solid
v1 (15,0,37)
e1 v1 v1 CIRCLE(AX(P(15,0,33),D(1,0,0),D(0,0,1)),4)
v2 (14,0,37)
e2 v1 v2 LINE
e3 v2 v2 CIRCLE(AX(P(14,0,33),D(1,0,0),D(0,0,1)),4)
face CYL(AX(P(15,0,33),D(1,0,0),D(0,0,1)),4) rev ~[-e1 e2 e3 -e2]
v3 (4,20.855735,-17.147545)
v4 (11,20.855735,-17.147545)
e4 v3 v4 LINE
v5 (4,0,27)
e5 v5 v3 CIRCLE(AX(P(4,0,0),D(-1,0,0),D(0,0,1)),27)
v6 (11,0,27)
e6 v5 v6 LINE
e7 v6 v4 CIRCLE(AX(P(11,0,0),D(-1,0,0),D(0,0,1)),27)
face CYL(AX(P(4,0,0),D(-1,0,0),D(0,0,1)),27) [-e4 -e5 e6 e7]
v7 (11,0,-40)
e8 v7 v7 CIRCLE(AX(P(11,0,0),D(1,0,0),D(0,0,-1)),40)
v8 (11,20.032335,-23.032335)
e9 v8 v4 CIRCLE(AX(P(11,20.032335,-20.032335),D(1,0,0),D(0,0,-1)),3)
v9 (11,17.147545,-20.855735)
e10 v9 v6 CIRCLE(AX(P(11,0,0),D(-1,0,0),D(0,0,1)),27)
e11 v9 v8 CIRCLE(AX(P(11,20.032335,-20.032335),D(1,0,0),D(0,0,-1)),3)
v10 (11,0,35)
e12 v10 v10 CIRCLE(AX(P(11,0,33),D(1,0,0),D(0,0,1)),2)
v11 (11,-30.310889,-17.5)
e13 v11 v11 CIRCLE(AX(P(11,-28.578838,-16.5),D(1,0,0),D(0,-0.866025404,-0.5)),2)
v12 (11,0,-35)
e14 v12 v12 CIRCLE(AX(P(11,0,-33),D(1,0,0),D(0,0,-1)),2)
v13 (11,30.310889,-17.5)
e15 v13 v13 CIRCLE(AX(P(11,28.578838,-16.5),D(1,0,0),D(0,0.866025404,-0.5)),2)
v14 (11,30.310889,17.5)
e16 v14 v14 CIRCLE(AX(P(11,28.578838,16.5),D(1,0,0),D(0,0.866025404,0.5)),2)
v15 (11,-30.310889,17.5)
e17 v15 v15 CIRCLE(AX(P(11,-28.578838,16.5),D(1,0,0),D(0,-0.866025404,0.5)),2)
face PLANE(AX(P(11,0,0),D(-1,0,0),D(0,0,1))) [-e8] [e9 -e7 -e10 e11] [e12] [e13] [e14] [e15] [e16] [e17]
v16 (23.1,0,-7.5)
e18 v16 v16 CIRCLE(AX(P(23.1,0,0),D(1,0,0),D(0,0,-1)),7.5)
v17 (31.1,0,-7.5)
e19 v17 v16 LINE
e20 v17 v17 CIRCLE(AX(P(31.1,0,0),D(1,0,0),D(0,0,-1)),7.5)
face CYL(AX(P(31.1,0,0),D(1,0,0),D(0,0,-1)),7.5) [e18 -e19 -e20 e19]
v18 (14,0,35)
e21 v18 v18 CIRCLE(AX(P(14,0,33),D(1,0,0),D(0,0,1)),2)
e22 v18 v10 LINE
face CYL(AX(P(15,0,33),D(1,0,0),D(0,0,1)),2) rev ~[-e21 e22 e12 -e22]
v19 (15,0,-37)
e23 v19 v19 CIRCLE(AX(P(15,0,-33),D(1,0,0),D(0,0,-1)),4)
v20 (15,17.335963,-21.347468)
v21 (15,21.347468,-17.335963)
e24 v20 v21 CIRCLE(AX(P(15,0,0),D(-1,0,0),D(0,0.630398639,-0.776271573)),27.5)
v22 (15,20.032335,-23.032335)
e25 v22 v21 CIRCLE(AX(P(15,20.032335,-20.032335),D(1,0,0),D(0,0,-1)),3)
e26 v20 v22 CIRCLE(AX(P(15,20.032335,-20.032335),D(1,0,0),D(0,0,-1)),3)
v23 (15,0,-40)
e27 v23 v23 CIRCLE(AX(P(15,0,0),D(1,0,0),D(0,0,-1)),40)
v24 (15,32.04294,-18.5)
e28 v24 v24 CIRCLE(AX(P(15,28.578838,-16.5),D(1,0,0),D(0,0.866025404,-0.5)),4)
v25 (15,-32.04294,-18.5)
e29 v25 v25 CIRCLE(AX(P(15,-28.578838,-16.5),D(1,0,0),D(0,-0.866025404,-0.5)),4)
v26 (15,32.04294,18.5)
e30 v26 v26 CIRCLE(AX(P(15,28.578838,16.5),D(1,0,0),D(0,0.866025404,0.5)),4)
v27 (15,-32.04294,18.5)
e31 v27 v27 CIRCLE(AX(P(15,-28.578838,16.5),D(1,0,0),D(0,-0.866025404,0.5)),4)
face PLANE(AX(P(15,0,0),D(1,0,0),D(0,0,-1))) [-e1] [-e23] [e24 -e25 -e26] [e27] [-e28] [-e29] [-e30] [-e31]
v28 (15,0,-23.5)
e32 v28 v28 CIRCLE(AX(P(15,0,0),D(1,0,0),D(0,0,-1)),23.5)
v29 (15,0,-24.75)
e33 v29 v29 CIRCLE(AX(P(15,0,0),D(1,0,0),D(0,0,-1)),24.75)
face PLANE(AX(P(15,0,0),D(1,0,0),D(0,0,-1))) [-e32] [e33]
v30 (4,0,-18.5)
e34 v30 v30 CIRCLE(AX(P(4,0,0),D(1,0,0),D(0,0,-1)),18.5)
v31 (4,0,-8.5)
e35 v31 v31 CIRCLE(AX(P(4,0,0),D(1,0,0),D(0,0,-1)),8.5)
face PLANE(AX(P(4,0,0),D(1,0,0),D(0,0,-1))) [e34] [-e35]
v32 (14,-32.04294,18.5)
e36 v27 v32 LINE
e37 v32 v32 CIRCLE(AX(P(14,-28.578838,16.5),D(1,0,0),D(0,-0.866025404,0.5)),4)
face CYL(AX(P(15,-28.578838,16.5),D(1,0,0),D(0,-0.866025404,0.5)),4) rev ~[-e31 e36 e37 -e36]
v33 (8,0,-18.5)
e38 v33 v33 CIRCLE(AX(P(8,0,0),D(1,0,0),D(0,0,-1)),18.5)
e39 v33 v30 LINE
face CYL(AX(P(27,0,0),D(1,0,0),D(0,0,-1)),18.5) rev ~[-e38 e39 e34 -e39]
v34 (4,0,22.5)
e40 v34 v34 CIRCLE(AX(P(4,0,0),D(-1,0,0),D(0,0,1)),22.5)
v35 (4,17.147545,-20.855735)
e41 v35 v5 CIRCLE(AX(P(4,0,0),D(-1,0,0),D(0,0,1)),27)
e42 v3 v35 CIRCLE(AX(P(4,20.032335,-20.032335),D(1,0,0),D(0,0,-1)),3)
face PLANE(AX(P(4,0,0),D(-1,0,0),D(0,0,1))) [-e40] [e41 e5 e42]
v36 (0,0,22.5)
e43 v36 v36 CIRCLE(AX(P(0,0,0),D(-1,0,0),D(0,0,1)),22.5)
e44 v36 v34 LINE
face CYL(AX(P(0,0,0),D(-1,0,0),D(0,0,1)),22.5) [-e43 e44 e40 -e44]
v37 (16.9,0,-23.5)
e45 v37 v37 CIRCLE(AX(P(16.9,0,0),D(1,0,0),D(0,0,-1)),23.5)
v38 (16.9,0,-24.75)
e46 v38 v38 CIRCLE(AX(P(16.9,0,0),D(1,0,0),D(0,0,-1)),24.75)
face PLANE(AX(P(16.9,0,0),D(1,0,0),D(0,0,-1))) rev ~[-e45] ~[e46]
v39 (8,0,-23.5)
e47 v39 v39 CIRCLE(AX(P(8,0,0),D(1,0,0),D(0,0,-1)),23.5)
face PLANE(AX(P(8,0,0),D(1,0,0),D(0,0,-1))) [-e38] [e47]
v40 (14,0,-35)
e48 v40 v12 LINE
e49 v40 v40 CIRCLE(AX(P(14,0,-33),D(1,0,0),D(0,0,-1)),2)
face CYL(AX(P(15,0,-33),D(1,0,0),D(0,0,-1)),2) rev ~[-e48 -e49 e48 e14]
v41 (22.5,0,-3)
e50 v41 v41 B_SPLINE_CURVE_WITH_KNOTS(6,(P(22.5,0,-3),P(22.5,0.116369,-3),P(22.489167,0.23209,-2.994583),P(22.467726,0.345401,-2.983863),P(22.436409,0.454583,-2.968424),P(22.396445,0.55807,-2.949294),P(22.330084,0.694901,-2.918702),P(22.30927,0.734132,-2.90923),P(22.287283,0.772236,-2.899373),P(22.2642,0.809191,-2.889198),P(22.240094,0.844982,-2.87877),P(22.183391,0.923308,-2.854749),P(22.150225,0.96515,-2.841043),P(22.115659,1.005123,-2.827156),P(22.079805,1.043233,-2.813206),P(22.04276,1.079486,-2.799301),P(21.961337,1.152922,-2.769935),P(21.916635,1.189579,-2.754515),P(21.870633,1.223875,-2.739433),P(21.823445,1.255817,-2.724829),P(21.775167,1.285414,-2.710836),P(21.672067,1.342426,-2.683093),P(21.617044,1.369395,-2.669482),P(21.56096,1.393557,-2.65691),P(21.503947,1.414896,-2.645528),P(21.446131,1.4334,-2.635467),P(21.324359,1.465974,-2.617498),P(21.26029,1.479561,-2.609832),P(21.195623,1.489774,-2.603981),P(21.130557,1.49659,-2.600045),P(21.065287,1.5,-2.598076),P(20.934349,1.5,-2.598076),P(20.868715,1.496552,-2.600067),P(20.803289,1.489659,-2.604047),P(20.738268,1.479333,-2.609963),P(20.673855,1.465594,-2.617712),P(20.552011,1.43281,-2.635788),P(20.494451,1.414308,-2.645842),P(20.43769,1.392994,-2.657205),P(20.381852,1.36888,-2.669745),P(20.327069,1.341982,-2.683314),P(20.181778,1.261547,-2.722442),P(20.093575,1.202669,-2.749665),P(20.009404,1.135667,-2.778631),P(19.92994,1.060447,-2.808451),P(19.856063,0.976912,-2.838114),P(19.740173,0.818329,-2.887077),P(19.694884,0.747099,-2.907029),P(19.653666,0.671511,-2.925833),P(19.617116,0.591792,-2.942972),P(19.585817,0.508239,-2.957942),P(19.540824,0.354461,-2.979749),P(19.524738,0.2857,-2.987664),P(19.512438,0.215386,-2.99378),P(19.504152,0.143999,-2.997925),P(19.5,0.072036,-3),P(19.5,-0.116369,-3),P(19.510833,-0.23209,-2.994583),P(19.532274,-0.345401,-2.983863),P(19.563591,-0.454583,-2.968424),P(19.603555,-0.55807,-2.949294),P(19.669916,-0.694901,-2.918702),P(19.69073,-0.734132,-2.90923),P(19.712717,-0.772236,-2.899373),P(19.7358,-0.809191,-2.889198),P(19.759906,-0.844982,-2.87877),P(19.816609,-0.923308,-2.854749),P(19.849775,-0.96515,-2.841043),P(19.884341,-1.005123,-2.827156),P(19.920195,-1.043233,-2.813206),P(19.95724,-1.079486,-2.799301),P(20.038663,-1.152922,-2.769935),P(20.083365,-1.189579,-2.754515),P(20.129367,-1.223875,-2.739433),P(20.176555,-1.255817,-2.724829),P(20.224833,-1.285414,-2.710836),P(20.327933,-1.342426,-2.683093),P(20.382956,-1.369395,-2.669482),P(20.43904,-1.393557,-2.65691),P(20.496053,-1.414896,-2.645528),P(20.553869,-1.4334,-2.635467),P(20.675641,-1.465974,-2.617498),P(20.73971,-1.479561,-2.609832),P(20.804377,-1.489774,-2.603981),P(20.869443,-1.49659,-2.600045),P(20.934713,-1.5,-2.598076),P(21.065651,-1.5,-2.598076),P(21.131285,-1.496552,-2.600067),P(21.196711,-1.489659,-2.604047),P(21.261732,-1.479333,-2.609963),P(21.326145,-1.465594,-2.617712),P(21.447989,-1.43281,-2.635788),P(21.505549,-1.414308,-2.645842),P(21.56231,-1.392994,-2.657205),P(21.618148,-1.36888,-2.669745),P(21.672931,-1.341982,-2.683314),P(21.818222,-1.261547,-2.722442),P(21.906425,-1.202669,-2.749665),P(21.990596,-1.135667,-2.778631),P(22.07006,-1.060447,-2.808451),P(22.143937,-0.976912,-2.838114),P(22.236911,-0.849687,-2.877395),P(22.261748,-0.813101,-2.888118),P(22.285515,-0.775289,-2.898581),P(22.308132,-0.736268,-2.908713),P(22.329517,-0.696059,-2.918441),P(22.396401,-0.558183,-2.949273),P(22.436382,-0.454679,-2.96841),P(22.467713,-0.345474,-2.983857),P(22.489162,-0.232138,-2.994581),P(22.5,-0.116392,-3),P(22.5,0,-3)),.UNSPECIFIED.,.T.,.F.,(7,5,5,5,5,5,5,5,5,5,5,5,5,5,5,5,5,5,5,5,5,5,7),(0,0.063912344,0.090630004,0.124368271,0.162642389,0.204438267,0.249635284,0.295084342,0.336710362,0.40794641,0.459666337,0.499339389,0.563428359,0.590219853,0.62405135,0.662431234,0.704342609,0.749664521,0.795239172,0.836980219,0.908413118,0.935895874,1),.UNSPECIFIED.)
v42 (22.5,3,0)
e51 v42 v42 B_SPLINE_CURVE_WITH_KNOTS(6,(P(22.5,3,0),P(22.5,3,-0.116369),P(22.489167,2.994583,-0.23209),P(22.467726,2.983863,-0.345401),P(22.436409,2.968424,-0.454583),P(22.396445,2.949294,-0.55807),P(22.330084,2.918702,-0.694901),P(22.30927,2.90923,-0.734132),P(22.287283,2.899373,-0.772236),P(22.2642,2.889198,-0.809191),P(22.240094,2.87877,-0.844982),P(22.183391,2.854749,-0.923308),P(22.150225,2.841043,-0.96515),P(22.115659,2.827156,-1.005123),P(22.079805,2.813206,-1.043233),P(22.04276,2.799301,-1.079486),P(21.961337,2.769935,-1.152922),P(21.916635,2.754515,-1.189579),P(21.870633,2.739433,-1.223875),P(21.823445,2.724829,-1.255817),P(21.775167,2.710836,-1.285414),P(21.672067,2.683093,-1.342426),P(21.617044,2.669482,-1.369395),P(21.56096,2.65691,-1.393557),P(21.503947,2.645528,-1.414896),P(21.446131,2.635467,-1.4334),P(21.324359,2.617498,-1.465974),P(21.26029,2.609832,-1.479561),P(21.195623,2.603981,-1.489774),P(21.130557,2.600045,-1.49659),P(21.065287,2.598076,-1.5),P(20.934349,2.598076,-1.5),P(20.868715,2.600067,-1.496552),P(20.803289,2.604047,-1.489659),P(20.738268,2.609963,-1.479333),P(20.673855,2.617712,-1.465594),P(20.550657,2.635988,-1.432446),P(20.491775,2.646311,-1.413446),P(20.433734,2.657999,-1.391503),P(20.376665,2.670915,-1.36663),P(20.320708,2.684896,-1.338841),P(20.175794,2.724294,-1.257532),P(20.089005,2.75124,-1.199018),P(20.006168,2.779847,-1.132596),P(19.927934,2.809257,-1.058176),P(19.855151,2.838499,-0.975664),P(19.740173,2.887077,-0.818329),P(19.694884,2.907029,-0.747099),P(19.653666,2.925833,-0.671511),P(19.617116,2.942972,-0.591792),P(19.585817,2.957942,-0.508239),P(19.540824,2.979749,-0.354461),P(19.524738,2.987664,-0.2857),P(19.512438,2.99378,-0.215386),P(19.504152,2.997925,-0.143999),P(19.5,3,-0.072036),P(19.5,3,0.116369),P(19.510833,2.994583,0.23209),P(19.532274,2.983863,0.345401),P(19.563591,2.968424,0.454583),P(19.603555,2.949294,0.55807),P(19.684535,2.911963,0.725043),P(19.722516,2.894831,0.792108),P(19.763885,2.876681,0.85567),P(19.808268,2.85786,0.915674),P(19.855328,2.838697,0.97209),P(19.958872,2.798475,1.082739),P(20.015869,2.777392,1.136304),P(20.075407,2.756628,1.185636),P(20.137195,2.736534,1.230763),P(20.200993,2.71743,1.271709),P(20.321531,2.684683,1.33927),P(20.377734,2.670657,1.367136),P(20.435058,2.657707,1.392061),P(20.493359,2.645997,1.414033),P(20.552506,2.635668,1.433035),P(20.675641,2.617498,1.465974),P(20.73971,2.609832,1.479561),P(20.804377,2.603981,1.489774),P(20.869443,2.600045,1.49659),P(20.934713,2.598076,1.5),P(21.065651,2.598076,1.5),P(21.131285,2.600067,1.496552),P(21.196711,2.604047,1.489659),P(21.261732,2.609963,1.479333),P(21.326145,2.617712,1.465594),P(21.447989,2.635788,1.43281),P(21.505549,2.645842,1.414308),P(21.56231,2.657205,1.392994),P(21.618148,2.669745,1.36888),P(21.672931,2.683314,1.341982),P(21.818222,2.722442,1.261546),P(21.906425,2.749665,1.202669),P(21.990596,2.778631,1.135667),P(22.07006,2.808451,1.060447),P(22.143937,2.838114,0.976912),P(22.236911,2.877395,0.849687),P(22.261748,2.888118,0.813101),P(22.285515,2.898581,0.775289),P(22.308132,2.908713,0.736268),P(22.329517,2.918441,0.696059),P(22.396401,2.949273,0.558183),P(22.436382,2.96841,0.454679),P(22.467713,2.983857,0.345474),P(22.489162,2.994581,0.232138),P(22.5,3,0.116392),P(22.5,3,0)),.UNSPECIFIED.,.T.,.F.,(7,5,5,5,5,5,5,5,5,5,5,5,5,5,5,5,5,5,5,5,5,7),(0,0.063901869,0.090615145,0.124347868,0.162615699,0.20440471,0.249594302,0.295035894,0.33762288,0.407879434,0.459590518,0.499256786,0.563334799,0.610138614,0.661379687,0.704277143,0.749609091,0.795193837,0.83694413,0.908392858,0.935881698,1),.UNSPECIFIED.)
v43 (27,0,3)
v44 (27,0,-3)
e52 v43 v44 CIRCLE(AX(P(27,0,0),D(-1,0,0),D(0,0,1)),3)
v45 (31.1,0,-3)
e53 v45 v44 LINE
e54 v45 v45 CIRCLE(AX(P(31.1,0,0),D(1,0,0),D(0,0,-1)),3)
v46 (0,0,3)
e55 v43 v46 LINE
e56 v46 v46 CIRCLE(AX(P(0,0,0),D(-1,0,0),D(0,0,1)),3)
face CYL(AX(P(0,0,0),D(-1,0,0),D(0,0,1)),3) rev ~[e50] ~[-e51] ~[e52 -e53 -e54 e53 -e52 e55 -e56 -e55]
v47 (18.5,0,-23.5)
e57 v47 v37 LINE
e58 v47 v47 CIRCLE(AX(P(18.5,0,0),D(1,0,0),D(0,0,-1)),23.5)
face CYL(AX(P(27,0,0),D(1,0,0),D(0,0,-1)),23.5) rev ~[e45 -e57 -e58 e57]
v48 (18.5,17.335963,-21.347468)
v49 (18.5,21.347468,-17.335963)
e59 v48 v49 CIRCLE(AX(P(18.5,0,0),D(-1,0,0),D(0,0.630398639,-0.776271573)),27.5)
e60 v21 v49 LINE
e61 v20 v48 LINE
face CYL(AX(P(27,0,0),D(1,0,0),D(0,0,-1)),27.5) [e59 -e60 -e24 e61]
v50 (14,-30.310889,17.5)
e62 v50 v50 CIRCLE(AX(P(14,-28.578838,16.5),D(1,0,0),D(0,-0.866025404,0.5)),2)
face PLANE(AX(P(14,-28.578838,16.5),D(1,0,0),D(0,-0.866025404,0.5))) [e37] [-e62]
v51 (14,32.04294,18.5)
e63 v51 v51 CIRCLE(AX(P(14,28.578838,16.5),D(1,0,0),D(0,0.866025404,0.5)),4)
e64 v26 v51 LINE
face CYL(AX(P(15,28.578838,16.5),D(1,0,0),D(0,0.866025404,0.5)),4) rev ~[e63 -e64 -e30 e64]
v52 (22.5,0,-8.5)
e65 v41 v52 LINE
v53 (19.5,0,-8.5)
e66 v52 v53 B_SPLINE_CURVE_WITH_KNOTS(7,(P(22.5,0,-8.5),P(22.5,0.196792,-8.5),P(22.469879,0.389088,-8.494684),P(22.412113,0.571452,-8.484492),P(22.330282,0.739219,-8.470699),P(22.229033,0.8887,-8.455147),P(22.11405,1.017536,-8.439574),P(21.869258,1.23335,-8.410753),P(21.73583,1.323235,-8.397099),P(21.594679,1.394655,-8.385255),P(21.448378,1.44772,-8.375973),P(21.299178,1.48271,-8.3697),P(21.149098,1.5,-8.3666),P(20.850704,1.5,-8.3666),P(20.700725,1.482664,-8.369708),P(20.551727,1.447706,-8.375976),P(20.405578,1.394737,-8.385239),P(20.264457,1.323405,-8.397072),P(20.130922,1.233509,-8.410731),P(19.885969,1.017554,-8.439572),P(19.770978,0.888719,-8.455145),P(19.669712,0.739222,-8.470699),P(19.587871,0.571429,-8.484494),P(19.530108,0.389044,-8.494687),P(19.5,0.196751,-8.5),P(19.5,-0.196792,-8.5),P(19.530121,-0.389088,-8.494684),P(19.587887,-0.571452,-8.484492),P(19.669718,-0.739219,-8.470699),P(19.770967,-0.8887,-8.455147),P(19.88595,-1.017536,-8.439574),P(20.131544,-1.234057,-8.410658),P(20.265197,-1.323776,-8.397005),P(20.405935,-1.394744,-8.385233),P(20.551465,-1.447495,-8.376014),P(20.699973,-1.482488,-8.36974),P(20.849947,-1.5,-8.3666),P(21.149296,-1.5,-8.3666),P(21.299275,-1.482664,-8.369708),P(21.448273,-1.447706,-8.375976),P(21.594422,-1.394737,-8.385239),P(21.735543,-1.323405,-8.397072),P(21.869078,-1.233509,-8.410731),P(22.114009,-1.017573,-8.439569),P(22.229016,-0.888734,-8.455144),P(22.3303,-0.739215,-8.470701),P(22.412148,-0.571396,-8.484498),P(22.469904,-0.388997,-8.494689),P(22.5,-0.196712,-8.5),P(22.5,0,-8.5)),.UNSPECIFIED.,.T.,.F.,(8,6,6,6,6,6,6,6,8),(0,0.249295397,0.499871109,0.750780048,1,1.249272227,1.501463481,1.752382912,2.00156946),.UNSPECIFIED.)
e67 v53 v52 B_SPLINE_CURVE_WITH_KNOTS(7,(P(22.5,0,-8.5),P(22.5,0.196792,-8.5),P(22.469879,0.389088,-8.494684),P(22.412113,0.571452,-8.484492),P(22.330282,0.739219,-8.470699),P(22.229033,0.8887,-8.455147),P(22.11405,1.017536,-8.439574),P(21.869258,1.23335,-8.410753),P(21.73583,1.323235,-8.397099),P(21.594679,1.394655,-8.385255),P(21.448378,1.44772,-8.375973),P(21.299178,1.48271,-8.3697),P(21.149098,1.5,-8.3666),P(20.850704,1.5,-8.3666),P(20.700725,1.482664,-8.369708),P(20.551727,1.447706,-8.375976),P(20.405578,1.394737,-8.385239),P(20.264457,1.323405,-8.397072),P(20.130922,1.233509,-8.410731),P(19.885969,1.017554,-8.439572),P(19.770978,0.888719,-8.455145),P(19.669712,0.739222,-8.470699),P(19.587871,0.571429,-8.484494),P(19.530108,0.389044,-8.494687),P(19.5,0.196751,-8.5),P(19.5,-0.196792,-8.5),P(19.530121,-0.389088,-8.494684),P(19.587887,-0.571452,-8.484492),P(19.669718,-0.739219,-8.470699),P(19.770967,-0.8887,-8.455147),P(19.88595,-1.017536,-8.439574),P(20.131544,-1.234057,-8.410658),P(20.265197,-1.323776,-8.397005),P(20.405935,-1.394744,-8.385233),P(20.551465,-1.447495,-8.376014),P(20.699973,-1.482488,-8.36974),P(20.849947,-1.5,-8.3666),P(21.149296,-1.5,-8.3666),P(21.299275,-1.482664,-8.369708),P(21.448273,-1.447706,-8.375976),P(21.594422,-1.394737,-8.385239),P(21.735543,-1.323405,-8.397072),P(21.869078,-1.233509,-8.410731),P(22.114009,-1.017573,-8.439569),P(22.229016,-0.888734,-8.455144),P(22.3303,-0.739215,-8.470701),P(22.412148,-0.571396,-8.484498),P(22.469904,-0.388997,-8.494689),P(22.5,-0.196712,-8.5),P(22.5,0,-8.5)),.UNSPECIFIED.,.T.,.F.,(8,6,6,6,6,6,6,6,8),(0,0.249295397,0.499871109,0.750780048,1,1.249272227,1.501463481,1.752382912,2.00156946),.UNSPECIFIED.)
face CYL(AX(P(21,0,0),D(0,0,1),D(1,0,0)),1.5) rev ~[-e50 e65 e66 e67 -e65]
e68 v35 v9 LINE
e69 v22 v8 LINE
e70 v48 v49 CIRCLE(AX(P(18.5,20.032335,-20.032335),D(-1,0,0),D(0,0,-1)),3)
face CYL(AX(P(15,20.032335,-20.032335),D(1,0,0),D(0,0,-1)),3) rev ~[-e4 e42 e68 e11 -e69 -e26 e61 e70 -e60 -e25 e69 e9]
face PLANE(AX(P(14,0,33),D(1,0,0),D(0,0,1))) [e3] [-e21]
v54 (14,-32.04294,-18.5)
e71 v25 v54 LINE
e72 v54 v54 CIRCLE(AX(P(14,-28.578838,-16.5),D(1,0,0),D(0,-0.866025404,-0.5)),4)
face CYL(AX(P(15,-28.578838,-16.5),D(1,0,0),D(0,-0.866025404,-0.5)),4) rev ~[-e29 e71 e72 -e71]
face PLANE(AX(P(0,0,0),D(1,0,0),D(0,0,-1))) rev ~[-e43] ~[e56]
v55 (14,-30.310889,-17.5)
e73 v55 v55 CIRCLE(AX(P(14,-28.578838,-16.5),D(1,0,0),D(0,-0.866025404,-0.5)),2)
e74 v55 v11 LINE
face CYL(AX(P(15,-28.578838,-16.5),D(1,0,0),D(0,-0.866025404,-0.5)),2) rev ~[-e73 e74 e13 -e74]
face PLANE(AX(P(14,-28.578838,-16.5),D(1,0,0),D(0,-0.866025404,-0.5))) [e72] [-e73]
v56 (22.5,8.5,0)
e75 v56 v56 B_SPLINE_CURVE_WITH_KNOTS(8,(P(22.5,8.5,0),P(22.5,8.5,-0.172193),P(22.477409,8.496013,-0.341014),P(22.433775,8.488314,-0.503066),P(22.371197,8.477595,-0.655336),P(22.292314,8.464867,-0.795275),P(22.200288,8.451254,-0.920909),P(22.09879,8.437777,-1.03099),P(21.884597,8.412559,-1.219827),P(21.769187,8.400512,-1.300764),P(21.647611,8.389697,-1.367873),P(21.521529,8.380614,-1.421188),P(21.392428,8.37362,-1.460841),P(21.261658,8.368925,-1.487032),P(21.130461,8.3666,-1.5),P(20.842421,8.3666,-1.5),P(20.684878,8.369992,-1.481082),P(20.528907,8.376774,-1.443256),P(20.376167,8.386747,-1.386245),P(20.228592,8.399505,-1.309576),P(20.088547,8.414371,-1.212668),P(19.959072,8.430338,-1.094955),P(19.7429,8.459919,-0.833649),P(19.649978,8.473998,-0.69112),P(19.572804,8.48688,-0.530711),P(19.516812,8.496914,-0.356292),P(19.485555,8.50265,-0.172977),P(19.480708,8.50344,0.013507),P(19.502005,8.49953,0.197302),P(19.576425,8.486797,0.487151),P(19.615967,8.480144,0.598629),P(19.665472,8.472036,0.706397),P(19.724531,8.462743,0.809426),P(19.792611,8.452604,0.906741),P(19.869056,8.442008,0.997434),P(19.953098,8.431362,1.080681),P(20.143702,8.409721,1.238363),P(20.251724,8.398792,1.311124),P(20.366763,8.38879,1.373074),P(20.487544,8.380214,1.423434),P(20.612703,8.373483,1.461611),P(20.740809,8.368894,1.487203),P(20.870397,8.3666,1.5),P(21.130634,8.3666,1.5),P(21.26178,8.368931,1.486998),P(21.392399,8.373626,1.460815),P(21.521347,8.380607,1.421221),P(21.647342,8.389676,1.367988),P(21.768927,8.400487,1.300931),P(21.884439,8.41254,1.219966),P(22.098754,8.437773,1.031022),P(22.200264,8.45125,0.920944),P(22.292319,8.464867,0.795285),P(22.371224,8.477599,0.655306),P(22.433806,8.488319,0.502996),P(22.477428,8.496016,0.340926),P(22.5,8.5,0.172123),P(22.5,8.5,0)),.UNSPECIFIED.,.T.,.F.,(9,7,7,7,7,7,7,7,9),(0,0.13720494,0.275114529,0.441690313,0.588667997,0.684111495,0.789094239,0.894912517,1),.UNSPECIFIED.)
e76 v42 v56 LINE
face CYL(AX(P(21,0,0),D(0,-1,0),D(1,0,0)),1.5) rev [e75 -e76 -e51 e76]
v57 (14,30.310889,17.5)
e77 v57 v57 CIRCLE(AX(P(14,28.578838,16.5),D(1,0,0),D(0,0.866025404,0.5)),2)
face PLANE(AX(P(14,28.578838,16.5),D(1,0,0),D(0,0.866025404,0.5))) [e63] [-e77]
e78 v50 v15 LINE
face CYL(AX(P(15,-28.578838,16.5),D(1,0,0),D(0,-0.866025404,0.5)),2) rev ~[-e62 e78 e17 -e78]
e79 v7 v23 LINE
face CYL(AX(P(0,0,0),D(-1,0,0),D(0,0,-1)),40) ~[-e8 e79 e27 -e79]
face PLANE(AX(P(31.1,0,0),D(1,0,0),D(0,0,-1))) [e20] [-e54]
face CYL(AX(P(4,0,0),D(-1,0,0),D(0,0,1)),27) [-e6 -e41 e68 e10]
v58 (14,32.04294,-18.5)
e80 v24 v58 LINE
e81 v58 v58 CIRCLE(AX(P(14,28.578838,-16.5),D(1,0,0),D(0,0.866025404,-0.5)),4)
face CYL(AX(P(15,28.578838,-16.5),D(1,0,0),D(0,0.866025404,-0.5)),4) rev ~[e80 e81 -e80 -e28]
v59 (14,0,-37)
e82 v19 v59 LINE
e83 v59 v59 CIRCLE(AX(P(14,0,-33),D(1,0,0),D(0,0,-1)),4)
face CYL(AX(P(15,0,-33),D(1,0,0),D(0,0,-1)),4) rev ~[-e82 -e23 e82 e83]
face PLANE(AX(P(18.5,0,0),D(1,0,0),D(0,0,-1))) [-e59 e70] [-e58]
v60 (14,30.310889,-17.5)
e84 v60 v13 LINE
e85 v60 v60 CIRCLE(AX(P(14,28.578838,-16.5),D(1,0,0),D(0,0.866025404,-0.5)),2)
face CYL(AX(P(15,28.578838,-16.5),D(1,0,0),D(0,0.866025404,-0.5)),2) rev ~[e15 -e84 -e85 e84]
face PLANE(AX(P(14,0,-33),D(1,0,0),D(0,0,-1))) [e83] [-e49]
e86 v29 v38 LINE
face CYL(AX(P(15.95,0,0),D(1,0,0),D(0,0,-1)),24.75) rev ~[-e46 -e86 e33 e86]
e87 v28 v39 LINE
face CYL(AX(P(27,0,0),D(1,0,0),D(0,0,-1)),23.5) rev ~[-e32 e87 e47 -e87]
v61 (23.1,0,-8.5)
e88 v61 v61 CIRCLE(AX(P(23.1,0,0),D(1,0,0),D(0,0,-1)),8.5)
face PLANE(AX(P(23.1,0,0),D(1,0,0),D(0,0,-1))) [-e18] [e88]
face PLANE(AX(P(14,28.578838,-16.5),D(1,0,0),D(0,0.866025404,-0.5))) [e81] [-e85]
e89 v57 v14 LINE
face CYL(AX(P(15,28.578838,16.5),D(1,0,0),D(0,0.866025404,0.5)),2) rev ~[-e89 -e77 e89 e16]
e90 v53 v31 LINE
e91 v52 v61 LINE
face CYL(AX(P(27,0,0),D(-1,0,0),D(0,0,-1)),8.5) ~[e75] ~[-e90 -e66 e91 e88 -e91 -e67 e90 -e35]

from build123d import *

# Parameters (mm, degrees)
SKETCH1_R                = 40
BOSS_EXTRUDE1_DEPTH      = 27
SKETCH2_R                = 3
CUT_EXTRUDE1_DEPTH       = 1
CUT_EXTRUDE1_DEPTH_BACK  = 45
SKETCH3_R                = 18.5
SKETCH3_R_2              = 8.5
CUT_EXTRUDE2_DEPTH       = 23
SKETCH4_R                = 23.5
SKETCH4_R_2              = 18.5
CUT_EXTRUDE5_DEPTH       = 19
SKETCH6_R                = 40
SKETCH6_R_2              = 22.5
CUT_EXTRUDE6_DEPTH       = 4
SKETCH7_R                = 40
SKETCH7_R_2              = 27.5
CUT_EXTRUDE7_DEPTH       = 12
SKETCH8_R                = 35
SKETCH8_R_2              = 8.5
CUT_EXTRUDE8_DEPTH       = 8.5
SKETCH9_R                = 24.75
SKETCH9_R_2              = 8.5
CUT_EXTRUDE13_DEPTH      = 0.95
SKETCH10_R               = 3
CUT_EXTRUDE14_DEPTH      = 13
CUT_EXTRUDE14_DEPTH_BACK = 16
SKETCH11_R               = 2
CUT_EXTRUDE22_DEPTH      = 11
SKETCH12_R               = 4
CUT_EXTRUDE23_DEPTH      = 1
CIRPATTERN1_COUNT        = 6
CUT_EXTRUDE24_REACH      = 42
SKETCH13_R               = 1.5
SKETCH14_R               = 40
SKETCH14_R_2             = 27
CUT_EXTRUDE25_DEPTH      = 7
CUT_EXTRUDE26_REACH      = 42
SKETCH15_R               = 1.5
SKETCH16_R               = 8.5
BOSS_EXTRUDE2_DEPTH      = 4.1
SKETCH17_R               = 8.5
SKETCH17_R_2             = 7.5
CUT_EXTRUDE27_DEPTH      = 8
SKETCH18_R               = 3
CUT_EXTRUDE28_DEPTH      = 7


with BuildPart() as part:
    # Sketch1 → Boss-Extrude1 (new body)
    with BuildSketch(Plane(origin=(0, 0, 0), x_dir=(0, 0, -1), z_dir=(1, 0, 0))):
        Circle(SKETCH1_R)
    extrude(amount=BOSS_EXTRUDE1_DEPTH)

    # Sketch2 → Cut-Extrude1 (cut, two sides)
    with BuildSketch(Plane.ZY) as cut_extrude1_sk:
        Circle(SKETCH2_R)
    extrude(amount=CUT_EXTRUDE1_DEPTH, mode=Mode.SUBTRACT)
    extrude(cut_extrude1_sk.sketch, amount=-CUT_EXTRUDE1_DEPTH_BACK, mode=Mode.SUBTRACT)

    # Sketch3 → Cut-Extrude2 (cut)
    with BuildSketch(Plane(origin=(27, 0, 0), x_dir=(0, 0, -1), z_dir=(1, 0, 0))):
        Circle(SKETCH3_R)
        Circle(SKETCH3_R_2, mode=Mode.SUBTRACT)
    extrude(amount=-CUT_EXTRUDE2_DEPTH, mode=Mode.SUBTRACT)

    # Sketch4 → Cut-Extrude5 (cut)
    with BuildSketch(Plane(origin=(27, 0, 0), x_dir=(0, 0, -1), z_dir=(1, 0, 0))):
        Circle(SKETCH4_R)
        Circle(SKETCH4_R_2, mode=Mode.SUBTRACT)
    extrude(amount=-CUT_EXTRUDE5_DEPTH, mode=Mode.SUBTRACT)

    # Sketch6 → Cut-Extrude6 (cut)
    with BuildSketch(Plane.ZY):
        Circle(SKETCH6_R)
        Circle(SKETCH6_R_2, mode=Mode.SUBTRACT)
    extrude(amount=-CUT_EXTRUDE6_DEPTH, mode=Mode.SUBTRACT)

    # Sketch7 → Cut-Extrude7 (cut)
    with BuildSketch(Plane(origin=(27, 0, 0), x_dir=(0, 0, -1), z_dir=(1, 0, 0))):
        Circle(SKETCH7_R)
        Circle(SKETCH7_R_2, mode=Mode.SUBTRACT)
    extrude(amount=-CUT_EXTRUDE7_DEPTH, mode=Mode.SUBTRACT)

    # Sketch8 → Cut-Extrude8 (cut)
    with BuildSketch(Plane(origin=(27, 0, 0), x_dir=(0, 0, -1), z_dir=(1, 0, 0))):
        Circle(SKETCH8_R)
        Circle(SKETCH8_R_2, mode=Mode.SUBTRACT)
    extrude(amount=-CUT_EXTRUDE8_DEPTH, mode=Mode.SUBTRACT)

    # Sketch9 → Cut-Extrude13 (cut, symmetric)
    with BuildSketch(Plane(origin=(15.95, 0, 0), x_dir=(0, 0, -1), z_dir=(1, 0, 0))):
        Circle(SKETCH9_R)
        Circle(SKETCH9_R_2, mode=Mode.SUBTRACT)
    extrude(amount=CUT_EXTRUDE13_DEPTH, both=True, mode=Mode.SUBTRACT)

    # Sketch10 → Cut-Extrude14 (cut, two sides)
    with BuildSketch(Plane(origin=(15, 0, 0), x_dir=(0, 0, -1), z_dir=(1, 0, 0))) as cut_extrude14_sk:
        with Locations((20.032335111, 20.032335111)):
            Circle(SKETCH10_R)
    extrude(amount=CUT_EXTRUDE14_DEPTH, mode=Mode.SUBTRACT)
    extrude(cut_extrude14_sk.sketch, amount=-CUT_EXTRUDE14_DEPTH_BACK, mode=Mode.SUBTRACT)

    # Sketch11 → Cut-Extrude22 (cut)
    with BuildSketch(Plane(origin=(15, 0, 0), x_dir=(0, 0, -1), z_dir=(1, 0, 0))):
        with Locations((33, 0)):
            Circle(SKETCH11_R)
    cut_extrude22 = extrude(amount=-CUT_EXTRUDE22_DEPTH, mode=Mode.SUBTRACT)

    # Sketch12 → Cut-Extrude23 (cut)
    with BuildSketch(Plane(origin=(15, 0, 0), x_dir=(0, 0, -1), z_dir=(1, 0, 0))):
        with Locations((33, 0)):
            Circle(SKETCH12_R)
    cut_extrude23 = extrude(amount=-CUT_EXTRUDE23_DEPTH, mode=Mode.SUBTRACT)

    # CirPattern1: Cut-Extrude22, Cut-Extrude23 ×6 about axis
    cirpattern1_axis = Axis((0, 0, 0), (1, 0, 0))
    for i in range(1, CIRPATTERN1_COUNT):
        add(cut_extrude22.rotate(cirpattern1_axis, i * 360 / CIRPATTERN1_COUNT), mode=Mode.SUBTRACT)
        add(cut_extrude23.rotate(cirpattern1_axis, i * 360 / CIRPATTERN1_COUNT), mode=Mode.SUBTRACT)

    # Sketch13 → Cut-Extrude24 (cut, up to next)
    with BuildSketch(Plane(origin=(0, 0, 0), x_dir=(1, 0, 0), z_dir=(0, 1, 0)), mode=Mode.PRIVATE) as cut_extrude24_sk1:
        with Locations((21, 0)):
            Circle(SKETCH13_R)
    cut_extrude24_tool1 = extrude(cut_extrude24_sk1.sketch, amount=CUT_EXTRUDE24_REACH, mode=Mode.PRIVATE) & part.part
    add(cut_extrude24_tool1.solids().sort_by_distance((21, 0, 0))[0], mode=Mode.SUBTRACT)

    # Sketch14 → Cut-Extrude25 (cut)
    with BuildSketch(Plane.ZY.offset(-4)):
        Circle(SKETCH14_R)
        Circle(SKETCH14_R_2, mode=Mode.SUBTRACT)
    extrude(amount=-CUT_EXTRUDE25_DEPTH, mode=Mode.SUBTRACT)

    # Sketch15 → Cut-Extrude26 (cut, up to next)
    with BuildSketch(Plane.XY, mode=Mode.PRIVATE) as cut_extrude26_sk1:
        with Locations((21, 0)):
            Circle(SKETCH15_R)
    cut_extrude26_tool1 = extrude(cut_extrude26_sk1.sketch, amount=-CUT_EXTRUDE26_REACH, mode=Mode.PRIVATE) & part.part
    add(cut_extrude26_tool1.solids().sort_by_distance((21, 0, 0))[0], mode=Mode.SUBTRACT)

    # Sketch16 → Boss-Extrude2 (add)
    with BuildSketch(Plane(origin=(27, 0, 0), x_dir=(0, 0, -1), z_dir=(1, 0, 0))):
        Circle(SKETCH16_R)
    extrude(amount=BOSS_EXTRUDE2_DEPTH)

    # Sketch17 → Cut-Extrude27 (cut)
    with BuildSketch(Plane(origin=(31.1, 0, 0), x_dir=(0, 0, -1), z_dir=(1, 0, 0))):
        Circle(SKETCH17_R)
        Circle(SKETCH17_R_2, mode=Mode.SUBTRACT)
    extrude(amount=-CUT_EXTRUDE27_DEPTH, mode=Mode.SUBTRACT)

    # Sketch18 → Cut-Extrude28 (cut)
    with BuildSketch(Plane(origin=(31.1, 0, 0), x_dir=(0, 0, -1), z_dir=(1, 0, 0))):
        Circle(SKETCH18_R)
    extrude(amount=-CUT_EXTRUDE28_DEPTH, mode=Mode.SUBTRACT)


solid = part.part
